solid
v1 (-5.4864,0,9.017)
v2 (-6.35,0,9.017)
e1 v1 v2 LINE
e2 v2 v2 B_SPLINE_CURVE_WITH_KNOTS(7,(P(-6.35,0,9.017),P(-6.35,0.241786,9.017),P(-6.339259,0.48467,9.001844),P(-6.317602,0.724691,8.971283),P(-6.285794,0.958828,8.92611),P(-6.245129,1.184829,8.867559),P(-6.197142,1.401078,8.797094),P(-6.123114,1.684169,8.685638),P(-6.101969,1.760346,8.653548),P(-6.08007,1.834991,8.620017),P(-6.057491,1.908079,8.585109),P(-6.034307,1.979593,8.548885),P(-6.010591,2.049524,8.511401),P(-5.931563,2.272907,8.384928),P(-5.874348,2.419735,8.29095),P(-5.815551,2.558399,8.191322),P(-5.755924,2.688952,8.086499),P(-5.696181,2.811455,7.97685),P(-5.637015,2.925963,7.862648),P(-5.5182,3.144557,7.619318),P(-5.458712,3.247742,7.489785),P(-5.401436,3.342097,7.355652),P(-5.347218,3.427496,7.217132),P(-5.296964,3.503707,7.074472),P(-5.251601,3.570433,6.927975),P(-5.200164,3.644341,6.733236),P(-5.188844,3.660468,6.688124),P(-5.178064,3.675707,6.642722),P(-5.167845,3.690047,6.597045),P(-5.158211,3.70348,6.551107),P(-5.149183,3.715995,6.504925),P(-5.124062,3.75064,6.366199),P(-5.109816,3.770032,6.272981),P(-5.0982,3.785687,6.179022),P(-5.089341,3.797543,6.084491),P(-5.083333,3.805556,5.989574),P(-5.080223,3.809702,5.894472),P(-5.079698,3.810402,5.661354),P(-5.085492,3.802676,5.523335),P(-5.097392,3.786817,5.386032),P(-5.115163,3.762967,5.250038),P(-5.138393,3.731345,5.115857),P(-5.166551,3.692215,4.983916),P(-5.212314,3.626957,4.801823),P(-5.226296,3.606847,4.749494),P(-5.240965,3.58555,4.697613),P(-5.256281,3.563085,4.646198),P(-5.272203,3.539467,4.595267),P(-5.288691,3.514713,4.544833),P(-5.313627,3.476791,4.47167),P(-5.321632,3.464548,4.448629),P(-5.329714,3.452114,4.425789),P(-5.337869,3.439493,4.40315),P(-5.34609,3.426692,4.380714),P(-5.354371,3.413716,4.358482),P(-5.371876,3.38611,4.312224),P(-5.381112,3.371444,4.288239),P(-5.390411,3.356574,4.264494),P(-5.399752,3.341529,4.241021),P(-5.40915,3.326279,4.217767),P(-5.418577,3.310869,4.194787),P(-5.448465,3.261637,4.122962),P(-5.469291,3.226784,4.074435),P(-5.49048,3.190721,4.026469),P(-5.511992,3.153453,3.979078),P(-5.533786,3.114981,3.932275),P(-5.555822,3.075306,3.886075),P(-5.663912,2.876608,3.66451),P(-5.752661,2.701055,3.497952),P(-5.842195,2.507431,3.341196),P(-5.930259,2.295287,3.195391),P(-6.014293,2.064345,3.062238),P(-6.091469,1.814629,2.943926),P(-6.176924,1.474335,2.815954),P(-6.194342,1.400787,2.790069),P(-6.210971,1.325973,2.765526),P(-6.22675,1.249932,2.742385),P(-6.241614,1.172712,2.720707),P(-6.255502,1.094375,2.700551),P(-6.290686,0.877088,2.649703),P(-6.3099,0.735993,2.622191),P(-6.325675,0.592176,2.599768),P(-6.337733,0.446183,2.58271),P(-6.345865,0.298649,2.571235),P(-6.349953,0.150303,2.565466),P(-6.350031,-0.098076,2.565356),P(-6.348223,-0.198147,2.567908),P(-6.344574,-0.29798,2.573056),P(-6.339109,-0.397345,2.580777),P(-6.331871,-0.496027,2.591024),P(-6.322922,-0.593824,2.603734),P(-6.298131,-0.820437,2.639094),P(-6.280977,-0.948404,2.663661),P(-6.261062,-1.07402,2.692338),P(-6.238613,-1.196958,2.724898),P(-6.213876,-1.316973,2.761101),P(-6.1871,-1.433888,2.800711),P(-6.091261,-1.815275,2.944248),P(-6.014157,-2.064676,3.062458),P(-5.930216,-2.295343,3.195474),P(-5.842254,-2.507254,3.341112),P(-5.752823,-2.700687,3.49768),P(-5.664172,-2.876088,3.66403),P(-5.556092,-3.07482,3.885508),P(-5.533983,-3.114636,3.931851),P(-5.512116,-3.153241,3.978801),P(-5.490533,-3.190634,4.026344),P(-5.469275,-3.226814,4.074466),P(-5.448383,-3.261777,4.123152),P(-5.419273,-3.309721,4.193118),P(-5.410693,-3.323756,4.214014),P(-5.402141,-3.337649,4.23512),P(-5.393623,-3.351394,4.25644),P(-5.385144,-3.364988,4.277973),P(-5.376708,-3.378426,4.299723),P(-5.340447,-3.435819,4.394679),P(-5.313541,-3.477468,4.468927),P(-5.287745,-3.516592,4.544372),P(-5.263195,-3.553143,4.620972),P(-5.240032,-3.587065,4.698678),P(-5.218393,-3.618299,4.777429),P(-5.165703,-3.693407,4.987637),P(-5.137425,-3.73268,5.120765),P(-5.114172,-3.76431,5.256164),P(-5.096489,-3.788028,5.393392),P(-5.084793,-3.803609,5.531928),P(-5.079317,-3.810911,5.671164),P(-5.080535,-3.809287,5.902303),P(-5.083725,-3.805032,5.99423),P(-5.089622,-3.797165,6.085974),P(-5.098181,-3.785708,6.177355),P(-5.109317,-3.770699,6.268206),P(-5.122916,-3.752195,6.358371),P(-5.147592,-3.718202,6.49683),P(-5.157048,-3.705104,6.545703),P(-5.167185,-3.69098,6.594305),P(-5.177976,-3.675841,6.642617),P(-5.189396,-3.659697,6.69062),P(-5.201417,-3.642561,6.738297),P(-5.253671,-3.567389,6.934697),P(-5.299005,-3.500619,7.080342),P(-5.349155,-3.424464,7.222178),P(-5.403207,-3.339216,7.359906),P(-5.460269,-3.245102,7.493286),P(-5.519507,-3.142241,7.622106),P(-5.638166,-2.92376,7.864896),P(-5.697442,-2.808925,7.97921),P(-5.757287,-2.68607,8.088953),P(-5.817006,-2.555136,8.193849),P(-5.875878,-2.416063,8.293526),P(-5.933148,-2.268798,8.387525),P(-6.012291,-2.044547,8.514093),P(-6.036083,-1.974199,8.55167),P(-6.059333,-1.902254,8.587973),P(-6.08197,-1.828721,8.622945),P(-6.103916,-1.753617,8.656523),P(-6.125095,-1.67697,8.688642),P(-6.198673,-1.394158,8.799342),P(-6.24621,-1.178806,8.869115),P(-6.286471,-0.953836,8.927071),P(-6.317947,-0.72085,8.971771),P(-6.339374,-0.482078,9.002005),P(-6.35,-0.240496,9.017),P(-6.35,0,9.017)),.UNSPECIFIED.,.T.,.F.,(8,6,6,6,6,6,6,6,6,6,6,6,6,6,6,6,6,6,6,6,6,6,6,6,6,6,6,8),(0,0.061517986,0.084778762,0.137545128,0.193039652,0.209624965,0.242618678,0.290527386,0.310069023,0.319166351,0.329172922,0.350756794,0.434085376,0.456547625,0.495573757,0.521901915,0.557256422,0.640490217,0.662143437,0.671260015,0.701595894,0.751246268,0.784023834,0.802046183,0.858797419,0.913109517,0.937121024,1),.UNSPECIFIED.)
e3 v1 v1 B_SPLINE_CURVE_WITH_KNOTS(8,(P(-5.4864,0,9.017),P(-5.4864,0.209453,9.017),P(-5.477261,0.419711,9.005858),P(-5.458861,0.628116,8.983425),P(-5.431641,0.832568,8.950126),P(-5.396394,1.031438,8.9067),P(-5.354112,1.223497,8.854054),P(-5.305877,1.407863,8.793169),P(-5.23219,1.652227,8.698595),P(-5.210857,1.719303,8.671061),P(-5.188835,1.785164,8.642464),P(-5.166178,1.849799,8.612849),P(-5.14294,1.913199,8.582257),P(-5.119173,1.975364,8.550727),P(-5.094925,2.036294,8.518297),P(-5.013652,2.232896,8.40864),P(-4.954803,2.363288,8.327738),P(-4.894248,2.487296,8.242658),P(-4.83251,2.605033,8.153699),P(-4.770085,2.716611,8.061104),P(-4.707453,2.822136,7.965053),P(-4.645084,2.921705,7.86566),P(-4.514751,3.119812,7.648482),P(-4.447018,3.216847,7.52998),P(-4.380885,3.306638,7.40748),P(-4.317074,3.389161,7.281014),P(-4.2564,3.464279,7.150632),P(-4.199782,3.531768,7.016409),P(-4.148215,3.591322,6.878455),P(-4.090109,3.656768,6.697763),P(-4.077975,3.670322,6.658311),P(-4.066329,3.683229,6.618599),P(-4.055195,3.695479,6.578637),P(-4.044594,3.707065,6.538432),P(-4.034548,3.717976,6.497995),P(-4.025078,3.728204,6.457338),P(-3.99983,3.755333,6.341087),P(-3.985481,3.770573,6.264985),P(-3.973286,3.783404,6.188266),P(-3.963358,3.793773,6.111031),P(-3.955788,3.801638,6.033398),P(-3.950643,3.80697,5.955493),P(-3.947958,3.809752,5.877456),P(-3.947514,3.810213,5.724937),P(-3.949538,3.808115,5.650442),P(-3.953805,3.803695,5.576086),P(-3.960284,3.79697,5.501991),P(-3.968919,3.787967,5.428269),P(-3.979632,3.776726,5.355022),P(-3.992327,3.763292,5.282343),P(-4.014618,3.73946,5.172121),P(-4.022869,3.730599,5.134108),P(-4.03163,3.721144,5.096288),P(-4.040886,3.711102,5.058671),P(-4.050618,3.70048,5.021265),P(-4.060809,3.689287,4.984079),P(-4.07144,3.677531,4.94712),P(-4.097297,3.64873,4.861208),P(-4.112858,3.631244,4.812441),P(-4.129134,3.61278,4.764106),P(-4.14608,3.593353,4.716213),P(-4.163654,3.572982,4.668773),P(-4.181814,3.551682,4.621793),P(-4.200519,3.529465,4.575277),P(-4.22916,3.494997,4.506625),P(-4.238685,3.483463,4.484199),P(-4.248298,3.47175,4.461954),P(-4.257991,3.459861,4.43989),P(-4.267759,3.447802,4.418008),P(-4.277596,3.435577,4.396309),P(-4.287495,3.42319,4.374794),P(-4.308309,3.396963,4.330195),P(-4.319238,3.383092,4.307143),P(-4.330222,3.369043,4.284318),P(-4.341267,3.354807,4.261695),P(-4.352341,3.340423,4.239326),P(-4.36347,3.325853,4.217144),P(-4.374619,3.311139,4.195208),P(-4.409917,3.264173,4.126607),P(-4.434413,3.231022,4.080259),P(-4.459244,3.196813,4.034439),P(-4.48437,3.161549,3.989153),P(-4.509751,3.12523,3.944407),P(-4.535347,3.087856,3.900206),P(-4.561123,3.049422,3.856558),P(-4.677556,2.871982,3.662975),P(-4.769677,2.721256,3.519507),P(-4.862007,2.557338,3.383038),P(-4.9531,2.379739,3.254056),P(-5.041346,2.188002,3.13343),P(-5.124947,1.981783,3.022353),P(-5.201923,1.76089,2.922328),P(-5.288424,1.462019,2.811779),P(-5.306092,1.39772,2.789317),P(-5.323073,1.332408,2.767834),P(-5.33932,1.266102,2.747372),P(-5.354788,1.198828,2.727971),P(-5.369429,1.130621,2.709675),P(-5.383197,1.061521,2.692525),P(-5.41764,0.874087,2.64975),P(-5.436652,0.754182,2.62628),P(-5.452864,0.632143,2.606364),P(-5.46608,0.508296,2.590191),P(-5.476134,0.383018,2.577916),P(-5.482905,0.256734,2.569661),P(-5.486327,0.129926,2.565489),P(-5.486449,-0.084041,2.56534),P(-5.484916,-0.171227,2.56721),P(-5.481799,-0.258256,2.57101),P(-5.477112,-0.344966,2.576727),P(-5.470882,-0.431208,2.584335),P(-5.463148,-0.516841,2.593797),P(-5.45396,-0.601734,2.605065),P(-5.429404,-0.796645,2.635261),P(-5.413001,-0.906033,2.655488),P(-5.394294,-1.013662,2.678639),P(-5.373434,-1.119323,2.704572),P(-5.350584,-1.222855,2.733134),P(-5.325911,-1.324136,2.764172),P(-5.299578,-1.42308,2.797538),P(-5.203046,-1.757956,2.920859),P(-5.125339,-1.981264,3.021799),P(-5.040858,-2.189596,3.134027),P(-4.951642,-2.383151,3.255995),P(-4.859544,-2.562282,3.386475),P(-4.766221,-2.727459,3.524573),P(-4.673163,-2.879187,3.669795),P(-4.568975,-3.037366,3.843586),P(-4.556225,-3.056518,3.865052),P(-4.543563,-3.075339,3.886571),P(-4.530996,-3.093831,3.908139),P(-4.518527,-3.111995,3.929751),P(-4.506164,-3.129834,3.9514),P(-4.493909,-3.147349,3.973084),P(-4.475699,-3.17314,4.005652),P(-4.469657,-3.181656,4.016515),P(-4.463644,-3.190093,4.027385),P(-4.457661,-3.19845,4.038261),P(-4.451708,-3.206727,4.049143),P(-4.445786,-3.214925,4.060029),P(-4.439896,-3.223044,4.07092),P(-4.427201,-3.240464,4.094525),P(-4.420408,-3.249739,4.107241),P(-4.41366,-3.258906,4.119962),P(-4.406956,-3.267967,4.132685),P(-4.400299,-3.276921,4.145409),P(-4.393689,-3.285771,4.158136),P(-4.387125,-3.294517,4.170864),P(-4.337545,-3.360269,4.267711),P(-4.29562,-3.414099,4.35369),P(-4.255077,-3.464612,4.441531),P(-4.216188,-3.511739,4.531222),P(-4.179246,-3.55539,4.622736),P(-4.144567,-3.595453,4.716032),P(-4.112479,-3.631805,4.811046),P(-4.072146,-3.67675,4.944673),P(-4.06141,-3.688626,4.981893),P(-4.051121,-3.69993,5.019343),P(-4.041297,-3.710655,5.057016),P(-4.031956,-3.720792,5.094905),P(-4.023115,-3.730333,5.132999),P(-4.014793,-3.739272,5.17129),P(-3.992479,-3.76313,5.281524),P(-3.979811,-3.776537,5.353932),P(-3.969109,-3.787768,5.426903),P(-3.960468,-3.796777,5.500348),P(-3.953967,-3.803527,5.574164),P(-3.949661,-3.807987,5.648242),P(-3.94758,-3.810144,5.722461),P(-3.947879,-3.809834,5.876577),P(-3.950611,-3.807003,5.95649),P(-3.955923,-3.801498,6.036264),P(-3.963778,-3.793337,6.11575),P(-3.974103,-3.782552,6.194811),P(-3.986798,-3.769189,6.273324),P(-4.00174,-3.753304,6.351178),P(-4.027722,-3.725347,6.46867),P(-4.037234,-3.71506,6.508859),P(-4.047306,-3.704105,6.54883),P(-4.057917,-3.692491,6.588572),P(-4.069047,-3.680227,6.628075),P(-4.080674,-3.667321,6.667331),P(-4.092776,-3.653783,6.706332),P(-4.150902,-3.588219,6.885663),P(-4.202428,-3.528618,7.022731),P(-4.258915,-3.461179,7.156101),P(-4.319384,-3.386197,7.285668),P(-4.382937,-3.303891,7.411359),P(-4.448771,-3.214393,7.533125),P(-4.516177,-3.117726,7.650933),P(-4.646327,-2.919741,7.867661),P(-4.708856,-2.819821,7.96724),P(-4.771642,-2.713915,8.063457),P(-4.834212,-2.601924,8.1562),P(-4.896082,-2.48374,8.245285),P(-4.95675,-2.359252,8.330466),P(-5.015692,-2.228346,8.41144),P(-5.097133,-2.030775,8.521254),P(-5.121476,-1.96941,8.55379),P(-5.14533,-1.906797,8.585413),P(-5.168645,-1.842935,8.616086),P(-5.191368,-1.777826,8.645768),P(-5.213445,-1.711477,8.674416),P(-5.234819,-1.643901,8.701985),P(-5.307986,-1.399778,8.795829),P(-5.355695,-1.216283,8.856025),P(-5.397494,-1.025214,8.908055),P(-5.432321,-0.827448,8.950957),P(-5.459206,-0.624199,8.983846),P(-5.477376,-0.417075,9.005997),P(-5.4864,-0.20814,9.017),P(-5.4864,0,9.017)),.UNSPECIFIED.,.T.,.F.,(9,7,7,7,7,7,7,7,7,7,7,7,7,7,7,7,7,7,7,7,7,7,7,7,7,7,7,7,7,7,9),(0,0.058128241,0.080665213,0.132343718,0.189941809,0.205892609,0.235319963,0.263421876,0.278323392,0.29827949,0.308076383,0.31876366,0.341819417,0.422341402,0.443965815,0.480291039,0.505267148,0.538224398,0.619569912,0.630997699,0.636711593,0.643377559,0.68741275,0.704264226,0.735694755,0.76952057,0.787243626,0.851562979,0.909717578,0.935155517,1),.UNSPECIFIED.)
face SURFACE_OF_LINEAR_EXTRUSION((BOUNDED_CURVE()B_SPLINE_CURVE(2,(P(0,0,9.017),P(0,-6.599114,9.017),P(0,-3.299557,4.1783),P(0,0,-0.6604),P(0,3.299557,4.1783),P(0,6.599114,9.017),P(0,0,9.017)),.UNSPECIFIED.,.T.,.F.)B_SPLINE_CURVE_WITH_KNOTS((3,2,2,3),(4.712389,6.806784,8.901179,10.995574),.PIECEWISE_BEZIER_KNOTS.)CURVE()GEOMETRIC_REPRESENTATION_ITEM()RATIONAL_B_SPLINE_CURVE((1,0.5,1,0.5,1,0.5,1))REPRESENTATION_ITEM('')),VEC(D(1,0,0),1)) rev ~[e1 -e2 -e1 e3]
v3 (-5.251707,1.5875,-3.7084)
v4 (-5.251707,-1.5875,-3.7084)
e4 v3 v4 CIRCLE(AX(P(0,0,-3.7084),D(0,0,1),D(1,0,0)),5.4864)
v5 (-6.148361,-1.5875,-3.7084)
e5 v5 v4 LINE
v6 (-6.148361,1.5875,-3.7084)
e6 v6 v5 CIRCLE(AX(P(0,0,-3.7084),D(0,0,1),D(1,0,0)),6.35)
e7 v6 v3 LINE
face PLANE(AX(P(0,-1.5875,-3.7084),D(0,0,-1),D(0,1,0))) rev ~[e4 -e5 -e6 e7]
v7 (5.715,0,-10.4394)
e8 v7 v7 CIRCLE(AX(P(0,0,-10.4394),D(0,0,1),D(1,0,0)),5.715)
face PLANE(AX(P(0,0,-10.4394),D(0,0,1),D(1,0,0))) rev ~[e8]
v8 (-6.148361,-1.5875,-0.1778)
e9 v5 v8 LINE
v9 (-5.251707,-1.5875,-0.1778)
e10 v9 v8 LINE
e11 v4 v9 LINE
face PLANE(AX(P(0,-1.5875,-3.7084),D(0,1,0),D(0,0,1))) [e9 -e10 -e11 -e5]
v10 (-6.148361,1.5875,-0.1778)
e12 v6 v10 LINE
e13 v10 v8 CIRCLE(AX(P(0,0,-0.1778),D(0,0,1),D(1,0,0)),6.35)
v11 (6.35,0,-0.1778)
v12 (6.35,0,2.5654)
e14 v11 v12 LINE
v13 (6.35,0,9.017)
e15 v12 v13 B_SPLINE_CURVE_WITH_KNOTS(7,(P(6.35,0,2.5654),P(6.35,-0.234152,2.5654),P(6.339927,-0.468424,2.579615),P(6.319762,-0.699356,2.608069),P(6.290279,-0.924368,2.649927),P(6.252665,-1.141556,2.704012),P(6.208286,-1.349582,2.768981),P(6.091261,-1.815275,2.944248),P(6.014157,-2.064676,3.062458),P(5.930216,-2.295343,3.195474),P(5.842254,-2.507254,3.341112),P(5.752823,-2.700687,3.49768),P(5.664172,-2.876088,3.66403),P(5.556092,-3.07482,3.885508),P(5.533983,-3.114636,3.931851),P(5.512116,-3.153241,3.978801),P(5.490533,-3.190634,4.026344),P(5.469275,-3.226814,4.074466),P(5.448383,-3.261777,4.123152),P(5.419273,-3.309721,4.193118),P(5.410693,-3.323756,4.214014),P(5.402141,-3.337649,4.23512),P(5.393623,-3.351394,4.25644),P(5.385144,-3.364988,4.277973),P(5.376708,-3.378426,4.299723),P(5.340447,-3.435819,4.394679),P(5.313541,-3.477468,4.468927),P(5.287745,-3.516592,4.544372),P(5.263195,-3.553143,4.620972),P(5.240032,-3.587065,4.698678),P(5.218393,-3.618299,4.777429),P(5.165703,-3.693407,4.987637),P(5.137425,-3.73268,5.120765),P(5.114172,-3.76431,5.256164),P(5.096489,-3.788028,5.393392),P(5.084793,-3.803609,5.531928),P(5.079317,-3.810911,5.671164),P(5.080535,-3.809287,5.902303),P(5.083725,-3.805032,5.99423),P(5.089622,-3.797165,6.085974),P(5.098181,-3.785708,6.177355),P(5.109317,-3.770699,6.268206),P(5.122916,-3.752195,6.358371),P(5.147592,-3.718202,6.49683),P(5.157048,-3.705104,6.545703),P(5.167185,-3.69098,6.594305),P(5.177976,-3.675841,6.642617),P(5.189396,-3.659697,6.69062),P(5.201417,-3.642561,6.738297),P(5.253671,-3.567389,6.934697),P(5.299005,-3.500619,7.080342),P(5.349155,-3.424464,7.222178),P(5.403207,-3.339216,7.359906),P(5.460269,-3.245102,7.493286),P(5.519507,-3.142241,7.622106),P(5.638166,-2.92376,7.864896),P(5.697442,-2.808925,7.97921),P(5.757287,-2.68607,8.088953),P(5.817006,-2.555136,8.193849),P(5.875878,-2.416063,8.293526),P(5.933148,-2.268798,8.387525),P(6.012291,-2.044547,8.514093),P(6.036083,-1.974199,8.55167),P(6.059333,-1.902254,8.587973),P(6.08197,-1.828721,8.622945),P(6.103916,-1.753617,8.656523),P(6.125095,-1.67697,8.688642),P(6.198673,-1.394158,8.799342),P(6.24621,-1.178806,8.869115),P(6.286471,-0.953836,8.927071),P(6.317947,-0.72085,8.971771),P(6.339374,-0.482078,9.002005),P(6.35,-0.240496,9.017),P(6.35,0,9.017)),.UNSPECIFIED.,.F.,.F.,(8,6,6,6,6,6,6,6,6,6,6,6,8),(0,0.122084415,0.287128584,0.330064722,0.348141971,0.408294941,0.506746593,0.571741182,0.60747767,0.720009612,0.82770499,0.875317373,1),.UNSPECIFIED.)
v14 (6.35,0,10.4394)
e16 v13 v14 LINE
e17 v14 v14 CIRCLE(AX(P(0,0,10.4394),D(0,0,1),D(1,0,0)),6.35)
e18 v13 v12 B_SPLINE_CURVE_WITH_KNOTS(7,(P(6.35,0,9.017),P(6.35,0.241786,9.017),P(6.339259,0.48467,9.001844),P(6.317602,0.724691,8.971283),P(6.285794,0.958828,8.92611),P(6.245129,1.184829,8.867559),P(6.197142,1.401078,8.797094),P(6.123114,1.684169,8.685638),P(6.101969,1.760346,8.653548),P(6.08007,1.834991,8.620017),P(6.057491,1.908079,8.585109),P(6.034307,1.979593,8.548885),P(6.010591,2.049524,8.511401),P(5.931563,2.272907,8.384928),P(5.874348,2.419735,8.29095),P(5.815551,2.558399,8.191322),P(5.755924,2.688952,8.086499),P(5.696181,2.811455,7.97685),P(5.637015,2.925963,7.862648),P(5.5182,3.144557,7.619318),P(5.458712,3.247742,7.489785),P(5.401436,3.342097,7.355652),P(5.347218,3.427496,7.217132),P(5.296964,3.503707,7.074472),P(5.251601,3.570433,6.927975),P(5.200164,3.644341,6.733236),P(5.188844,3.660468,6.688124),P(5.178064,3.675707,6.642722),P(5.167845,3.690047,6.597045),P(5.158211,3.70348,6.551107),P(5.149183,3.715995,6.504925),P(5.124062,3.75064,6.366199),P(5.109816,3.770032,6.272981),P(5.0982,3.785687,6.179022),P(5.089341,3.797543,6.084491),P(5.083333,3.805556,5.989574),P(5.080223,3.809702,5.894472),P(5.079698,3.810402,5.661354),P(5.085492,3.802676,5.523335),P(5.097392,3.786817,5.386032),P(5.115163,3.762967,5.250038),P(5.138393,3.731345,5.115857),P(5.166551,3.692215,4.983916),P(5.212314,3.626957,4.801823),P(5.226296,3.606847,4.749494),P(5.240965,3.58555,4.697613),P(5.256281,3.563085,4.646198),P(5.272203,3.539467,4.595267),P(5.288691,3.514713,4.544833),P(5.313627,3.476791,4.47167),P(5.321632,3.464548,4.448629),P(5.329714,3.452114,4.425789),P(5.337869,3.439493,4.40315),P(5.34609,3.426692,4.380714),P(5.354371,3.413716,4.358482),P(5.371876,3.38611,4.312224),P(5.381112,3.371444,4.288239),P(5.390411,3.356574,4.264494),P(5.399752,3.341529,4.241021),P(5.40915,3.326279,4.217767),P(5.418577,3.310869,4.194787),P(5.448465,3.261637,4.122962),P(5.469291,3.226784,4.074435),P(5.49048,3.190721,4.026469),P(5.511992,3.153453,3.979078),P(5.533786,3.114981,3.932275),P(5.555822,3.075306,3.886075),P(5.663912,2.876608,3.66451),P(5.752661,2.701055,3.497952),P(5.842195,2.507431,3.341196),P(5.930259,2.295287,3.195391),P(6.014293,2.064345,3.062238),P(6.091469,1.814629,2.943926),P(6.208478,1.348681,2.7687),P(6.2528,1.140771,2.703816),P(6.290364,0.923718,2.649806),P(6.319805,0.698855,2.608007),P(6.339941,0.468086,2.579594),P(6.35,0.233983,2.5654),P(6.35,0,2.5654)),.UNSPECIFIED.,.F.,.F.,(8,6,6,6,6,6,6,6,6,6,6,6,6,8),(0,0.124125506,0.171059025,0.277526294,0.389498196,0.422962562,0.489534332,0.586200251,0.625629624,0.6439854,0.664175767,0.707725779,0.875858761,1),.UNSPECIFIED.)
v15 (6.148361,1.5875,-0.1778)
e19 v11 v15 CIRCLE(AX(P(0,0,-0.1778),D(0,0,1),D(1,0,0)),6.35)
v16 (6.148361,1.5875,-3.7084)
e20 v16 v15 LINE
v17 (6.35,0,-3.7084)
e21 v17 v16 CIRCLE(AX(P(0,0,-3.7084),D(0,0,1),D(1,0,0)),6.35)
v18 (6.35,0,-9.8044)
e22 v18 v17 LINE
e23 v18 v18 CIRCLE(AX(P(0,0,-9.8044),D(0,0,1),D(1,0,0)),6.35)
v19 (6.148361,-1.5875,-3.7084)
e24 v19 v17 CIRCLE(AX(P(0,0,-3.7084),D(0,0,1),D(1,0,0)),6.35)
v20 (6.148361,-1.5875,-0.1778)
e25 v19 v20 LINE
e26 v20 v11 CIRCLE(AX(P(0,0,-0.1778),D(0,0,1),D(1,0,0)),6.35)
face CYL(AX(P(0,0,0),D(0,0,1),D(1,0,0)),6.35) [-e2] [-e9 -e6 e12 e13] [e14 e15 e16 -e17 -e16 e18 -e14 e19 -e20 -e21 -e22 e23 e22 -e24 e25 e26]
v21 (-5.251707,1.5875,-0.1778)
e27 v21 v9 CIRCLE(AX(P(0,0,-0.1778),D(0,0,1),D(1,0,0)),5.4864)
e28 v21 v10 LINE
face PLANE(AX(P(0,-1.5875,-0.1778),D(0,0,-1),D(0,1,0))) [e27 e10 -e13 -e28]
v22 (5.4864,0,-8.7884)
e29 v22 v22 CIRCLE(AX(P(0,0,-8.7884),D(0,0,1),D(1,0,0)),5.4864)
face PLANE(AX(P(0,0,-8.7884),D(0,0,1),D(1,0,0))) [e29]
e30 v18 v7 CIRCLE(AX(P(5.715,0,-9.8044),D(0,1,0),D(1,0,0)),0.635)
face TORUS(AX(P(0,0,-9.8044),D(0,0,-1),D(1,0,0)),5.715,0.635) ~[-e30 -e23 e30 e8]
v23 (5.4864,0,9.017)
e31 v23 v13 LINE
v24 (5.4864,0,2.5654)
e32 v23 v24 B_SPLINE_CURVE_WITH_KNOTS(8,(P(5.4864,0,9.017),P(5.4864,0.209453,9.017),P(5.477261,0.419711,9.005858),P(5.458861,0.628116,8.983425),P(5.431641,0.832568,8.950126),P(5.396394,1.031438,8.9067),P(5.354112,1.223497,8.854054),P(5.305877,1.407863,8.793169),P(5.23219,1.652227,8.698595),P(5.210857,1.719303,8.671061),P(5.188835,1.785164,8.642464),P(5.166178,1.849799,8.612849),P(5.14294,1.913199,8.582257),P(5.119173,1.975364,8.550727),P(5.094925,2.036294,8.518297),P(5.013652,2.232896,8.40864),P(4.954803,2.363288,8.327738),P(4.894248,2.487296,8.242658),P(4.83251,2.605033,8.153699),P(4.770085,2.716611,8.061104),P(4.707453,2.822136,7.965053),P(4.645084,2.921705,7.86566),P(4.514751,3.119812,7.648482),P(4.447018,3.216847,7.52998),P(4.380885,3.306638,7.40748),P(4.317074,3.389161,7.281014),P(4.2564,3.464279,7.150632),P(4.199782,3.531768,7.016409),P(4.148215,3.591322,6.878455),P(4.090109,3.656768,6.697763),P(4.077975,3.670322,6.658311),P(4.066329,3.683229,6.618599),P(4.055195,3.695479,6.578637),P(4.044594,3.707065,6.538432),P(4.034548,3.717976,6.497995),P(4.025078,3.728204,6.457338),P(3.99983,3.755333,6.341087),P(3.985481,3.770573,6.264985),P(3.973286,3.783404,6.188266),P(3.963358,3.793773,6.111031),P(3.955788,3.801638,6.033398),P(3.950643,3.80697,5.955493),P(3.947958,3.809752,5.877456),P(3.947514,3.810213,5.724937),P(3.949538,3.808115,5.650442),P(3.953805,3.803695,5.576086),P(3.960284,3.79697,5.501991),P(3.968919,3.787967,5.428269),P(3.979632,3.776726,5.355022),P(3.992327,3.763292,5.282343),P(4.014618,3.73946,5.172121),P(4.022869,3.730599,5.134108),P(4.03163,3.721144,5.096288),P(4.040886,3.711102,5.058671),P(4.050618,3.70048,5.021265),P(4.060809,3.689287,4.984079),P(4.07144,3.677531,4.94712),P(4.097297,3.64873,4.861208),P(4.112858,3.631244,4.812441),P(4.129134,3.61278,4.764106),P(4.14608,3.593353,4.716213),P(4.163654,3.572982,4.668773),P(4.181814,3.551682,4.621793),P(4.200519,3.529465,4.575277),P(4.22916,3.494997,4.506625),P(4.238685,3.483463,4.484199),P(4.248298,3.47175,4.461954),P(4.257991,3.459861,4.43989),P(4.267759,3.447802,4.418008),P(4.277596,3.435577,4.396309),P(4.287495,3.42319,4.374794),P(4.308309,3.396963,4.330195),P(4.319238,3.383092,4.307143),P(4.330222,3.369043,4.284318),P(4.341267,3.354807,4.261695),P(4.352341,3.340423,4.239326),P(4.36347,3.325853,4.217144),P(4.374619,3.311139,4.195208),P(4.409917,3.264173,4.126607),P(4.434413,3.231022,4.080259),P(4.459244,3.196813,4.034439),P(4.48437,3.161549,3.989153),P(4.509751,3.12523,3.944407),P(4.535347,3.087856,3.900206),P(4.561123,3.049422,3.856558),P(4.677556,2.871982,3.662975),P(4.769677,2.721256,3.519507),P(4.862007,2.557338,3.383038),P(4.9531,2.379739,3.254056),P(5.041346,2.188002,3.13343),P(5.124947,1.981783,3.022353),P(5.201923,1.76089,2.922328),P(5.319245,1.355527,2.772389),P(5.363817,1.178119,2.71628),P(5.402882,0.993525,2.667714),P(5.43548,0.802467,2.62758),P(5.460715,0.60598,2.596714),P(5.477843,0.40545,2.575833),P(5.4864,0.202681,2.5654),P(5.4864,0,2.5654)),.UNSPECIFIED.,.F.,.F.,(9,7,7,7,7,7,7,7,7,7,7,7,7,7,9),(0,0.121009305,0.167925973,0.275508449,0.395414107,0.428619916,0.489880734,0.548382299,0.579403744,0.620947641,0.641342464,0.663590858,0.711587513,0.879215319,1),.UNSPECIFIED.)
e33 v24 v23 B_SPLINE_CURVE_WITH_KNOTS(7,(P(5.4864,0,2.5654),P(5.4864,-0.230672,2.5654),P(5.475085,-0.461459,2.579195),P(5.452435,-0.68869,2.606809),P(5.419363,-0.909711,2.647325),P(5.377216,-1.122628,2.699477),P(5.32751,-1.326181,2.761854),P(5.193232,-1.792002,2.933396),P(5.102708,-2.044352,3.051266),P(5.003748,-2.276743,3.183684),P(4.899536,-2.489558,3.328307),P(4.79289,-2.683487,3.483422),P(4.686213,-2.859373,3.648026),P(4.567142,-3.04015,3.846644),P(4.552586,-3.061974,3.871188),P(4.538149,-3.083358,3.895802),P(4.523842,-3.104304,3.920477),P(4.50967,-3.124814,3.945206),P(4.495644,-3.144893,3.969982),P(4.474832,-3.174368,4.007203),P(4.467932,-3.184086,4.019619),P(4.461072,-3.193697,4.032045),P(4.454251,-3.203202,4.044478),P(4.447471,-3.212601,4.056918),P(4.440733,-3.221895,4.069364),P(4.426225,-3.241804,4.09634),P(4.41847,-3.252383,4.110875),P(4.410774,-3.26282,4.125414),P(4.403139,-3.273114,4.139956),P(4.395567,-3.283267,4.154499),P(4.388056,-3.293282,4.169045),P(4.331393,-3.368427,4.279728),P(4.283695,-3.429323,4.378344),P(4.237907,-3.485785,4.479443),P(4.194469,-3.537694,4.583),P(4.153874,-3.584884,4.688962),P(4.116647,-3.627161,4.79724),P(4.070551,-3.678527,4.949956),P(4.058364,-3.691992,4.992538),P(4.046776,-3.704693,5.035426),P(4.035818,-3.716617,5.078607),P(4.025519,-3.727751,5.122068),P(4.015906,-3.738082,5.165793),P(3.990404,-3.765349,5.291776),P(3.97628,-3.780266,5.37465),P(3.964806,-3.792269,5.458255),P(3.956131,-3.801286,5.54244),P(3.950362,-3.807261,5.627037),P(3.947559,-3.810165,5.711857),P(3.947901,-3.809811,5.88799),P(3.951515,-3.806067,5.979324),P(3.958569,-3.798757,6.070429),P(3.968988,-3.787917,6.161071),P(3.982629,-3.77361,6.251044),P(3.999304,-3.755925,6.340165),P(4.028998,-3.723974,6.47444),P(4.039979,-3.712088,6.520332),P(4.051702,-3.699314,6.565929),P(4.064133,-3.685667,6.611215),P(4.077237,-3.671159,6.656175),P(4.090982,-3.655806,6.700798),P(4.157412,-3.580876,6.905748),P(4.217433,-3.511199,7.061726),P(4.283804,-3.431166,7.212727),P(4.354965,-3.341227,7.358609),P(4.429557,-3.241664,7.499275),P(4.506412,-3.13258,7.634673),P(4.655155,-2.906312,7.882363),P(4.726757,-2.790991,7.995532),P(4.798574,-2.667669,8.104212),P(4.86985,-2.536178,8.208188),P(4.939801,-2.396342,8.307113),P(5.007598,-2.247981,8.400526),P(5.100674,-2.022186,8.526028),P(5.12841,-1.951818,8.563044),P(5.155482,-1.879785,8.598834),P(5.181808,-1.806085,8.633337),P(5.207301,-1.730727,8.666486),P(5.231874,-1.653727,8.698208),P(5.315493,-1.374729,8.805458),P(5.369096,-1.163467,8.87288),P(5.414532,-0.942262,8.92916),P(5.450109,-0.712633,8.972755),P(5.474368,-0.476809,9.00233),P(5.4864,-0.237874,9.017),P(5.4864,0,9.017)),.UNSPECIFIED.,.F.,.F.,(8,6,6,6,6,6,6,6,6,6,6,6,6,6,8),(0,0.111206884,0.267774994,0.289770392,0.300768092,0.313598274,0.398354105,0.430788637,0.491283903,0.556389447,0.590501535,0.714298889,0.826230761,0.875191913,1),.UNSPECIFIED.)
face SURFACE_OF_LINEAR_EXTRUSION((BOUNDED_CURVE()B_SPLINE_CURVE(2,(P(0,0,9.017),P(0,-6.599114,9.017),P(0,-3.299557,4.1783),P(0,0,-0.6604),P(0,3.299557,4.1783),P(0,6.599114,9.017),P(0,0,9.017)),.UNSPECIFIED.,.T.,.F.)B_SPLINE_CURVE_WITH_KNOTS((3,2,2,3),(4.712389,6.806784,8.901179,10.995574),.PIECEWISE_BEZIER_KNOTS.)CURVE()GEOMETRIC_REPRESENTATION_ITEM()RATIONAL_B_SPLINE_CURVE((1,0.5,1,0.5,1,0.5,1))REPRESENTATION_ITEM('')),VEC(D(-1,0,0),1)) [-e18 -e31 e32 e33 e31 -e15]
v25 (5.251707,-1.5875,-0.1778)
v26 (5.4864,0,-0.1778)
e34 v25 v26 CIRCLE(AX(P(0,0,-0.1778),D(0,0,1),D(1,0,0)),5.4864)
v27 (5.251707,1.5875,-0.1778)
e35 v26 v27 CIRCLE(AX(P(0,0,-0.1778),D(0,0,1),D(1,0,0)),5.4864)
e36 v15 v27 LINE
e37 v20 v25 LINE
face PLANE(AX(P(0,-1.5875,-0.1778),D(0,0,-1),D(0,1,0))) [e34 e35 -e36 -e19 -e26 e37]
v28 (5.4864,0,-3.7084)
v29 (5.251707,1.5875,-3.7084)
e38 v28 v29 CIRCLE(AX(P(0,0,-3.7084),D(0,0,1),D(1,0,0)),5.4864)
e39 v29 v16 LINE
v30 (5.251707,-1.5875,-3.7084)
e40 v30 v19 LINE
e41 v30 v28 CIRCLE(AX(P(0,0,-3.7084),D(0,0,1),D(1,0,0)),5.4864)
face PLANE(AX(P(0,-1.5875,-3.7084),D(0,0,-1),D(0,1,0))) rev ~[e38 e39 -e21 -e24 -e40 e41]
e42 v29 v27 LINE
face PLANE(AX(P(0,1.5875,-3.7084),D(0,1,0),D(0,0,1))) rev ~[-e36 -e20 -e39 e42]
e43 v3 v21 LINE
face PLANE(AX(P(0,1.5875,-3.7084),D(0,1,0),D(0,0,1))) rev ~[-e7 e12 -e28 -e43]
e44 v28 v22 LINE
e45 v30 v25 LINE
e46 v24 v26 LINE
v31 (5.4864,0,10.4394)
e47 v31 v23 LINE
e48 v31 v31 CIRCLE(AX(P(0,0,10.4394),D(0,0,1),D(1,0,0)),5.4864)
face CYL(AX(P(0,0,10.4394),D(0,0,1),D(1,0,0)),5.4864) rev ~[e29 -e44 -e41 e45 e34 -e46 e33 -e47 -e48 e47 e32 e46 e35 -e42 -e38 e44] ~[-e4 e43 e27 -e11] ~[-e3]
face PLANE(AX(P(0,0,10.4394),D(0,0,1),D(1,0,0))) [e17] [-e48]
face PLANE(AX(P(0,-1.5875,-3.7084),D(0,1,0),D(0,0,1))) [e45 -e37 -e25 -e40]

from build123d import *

# Parameters (mm, degrees)
F0_R     = 6.35
F1_DEPTH = 10.4394
F2_R     = 5.4864
F3_DEPTH = 19.2278
F4_W     = 3.175
F4_H     = 3.5306
F5_DEPTH = 12.7
F7_DEPTH = 12.7
F8_R     = 0.635


with BuildPart() as f1:
    # F0 (on Top) → F1 (new body, symmetric)
    with BuildSketch(Plane.XY):
        Circle(F0_R)
    extrude(amount=F1_DEPTH, both=True)

    # F2 (on face) → F3 (cut)
    with BuildSketch(Plane.XY.offset(10.4394)):
        Circle(F2_R)
    extrude(amount=-F3_DEPTH, mode=Mode.SUBTRACT)

    # F4 (on Right) → F5 (cut, symmetric)
    with BuildSketch(Plane.YZ):
        with Locations((0, -1.9431)):
            Rectangle(F4_W, F4_H)
    extrude(amount=F5_DEPTH, both=True, mode=Mode.SUBTRACT)

    # F6 (on Right) → F7 (cut, symmetric)
    with BuildSketch(Plane.YZ):
        with BuildLine():
            add(Edge.make_bspline(
                [(0, 9.017), (-6.599114, 9.017), (-3.299557, 4.1783), (0, -0.6604), (3.299557, 4.1783), (6.599114, 9.017), (0, 9.017)],
                knots=[4.712389, 4.712389, 4.712389, 6.806784, 6.806784, 8.901179, 8.901179, 10.995574, 10.995574, 10.995574], degree=2, weights=[1, 0.5, 1, 0.5, 1, 0.5, 1]))
        make_face()
    extrude(amount=F7_DEPTH, both=True, mode=Mode.SUBTRACT)

    # F8
    f8_edges = [f1.edges().sort_by_distance(p)[0] for p in [
        (-6.35, 0, -10.4394),
    ]]
    fillet(f8_edges, radius=F8_R)


solid = f1.part
